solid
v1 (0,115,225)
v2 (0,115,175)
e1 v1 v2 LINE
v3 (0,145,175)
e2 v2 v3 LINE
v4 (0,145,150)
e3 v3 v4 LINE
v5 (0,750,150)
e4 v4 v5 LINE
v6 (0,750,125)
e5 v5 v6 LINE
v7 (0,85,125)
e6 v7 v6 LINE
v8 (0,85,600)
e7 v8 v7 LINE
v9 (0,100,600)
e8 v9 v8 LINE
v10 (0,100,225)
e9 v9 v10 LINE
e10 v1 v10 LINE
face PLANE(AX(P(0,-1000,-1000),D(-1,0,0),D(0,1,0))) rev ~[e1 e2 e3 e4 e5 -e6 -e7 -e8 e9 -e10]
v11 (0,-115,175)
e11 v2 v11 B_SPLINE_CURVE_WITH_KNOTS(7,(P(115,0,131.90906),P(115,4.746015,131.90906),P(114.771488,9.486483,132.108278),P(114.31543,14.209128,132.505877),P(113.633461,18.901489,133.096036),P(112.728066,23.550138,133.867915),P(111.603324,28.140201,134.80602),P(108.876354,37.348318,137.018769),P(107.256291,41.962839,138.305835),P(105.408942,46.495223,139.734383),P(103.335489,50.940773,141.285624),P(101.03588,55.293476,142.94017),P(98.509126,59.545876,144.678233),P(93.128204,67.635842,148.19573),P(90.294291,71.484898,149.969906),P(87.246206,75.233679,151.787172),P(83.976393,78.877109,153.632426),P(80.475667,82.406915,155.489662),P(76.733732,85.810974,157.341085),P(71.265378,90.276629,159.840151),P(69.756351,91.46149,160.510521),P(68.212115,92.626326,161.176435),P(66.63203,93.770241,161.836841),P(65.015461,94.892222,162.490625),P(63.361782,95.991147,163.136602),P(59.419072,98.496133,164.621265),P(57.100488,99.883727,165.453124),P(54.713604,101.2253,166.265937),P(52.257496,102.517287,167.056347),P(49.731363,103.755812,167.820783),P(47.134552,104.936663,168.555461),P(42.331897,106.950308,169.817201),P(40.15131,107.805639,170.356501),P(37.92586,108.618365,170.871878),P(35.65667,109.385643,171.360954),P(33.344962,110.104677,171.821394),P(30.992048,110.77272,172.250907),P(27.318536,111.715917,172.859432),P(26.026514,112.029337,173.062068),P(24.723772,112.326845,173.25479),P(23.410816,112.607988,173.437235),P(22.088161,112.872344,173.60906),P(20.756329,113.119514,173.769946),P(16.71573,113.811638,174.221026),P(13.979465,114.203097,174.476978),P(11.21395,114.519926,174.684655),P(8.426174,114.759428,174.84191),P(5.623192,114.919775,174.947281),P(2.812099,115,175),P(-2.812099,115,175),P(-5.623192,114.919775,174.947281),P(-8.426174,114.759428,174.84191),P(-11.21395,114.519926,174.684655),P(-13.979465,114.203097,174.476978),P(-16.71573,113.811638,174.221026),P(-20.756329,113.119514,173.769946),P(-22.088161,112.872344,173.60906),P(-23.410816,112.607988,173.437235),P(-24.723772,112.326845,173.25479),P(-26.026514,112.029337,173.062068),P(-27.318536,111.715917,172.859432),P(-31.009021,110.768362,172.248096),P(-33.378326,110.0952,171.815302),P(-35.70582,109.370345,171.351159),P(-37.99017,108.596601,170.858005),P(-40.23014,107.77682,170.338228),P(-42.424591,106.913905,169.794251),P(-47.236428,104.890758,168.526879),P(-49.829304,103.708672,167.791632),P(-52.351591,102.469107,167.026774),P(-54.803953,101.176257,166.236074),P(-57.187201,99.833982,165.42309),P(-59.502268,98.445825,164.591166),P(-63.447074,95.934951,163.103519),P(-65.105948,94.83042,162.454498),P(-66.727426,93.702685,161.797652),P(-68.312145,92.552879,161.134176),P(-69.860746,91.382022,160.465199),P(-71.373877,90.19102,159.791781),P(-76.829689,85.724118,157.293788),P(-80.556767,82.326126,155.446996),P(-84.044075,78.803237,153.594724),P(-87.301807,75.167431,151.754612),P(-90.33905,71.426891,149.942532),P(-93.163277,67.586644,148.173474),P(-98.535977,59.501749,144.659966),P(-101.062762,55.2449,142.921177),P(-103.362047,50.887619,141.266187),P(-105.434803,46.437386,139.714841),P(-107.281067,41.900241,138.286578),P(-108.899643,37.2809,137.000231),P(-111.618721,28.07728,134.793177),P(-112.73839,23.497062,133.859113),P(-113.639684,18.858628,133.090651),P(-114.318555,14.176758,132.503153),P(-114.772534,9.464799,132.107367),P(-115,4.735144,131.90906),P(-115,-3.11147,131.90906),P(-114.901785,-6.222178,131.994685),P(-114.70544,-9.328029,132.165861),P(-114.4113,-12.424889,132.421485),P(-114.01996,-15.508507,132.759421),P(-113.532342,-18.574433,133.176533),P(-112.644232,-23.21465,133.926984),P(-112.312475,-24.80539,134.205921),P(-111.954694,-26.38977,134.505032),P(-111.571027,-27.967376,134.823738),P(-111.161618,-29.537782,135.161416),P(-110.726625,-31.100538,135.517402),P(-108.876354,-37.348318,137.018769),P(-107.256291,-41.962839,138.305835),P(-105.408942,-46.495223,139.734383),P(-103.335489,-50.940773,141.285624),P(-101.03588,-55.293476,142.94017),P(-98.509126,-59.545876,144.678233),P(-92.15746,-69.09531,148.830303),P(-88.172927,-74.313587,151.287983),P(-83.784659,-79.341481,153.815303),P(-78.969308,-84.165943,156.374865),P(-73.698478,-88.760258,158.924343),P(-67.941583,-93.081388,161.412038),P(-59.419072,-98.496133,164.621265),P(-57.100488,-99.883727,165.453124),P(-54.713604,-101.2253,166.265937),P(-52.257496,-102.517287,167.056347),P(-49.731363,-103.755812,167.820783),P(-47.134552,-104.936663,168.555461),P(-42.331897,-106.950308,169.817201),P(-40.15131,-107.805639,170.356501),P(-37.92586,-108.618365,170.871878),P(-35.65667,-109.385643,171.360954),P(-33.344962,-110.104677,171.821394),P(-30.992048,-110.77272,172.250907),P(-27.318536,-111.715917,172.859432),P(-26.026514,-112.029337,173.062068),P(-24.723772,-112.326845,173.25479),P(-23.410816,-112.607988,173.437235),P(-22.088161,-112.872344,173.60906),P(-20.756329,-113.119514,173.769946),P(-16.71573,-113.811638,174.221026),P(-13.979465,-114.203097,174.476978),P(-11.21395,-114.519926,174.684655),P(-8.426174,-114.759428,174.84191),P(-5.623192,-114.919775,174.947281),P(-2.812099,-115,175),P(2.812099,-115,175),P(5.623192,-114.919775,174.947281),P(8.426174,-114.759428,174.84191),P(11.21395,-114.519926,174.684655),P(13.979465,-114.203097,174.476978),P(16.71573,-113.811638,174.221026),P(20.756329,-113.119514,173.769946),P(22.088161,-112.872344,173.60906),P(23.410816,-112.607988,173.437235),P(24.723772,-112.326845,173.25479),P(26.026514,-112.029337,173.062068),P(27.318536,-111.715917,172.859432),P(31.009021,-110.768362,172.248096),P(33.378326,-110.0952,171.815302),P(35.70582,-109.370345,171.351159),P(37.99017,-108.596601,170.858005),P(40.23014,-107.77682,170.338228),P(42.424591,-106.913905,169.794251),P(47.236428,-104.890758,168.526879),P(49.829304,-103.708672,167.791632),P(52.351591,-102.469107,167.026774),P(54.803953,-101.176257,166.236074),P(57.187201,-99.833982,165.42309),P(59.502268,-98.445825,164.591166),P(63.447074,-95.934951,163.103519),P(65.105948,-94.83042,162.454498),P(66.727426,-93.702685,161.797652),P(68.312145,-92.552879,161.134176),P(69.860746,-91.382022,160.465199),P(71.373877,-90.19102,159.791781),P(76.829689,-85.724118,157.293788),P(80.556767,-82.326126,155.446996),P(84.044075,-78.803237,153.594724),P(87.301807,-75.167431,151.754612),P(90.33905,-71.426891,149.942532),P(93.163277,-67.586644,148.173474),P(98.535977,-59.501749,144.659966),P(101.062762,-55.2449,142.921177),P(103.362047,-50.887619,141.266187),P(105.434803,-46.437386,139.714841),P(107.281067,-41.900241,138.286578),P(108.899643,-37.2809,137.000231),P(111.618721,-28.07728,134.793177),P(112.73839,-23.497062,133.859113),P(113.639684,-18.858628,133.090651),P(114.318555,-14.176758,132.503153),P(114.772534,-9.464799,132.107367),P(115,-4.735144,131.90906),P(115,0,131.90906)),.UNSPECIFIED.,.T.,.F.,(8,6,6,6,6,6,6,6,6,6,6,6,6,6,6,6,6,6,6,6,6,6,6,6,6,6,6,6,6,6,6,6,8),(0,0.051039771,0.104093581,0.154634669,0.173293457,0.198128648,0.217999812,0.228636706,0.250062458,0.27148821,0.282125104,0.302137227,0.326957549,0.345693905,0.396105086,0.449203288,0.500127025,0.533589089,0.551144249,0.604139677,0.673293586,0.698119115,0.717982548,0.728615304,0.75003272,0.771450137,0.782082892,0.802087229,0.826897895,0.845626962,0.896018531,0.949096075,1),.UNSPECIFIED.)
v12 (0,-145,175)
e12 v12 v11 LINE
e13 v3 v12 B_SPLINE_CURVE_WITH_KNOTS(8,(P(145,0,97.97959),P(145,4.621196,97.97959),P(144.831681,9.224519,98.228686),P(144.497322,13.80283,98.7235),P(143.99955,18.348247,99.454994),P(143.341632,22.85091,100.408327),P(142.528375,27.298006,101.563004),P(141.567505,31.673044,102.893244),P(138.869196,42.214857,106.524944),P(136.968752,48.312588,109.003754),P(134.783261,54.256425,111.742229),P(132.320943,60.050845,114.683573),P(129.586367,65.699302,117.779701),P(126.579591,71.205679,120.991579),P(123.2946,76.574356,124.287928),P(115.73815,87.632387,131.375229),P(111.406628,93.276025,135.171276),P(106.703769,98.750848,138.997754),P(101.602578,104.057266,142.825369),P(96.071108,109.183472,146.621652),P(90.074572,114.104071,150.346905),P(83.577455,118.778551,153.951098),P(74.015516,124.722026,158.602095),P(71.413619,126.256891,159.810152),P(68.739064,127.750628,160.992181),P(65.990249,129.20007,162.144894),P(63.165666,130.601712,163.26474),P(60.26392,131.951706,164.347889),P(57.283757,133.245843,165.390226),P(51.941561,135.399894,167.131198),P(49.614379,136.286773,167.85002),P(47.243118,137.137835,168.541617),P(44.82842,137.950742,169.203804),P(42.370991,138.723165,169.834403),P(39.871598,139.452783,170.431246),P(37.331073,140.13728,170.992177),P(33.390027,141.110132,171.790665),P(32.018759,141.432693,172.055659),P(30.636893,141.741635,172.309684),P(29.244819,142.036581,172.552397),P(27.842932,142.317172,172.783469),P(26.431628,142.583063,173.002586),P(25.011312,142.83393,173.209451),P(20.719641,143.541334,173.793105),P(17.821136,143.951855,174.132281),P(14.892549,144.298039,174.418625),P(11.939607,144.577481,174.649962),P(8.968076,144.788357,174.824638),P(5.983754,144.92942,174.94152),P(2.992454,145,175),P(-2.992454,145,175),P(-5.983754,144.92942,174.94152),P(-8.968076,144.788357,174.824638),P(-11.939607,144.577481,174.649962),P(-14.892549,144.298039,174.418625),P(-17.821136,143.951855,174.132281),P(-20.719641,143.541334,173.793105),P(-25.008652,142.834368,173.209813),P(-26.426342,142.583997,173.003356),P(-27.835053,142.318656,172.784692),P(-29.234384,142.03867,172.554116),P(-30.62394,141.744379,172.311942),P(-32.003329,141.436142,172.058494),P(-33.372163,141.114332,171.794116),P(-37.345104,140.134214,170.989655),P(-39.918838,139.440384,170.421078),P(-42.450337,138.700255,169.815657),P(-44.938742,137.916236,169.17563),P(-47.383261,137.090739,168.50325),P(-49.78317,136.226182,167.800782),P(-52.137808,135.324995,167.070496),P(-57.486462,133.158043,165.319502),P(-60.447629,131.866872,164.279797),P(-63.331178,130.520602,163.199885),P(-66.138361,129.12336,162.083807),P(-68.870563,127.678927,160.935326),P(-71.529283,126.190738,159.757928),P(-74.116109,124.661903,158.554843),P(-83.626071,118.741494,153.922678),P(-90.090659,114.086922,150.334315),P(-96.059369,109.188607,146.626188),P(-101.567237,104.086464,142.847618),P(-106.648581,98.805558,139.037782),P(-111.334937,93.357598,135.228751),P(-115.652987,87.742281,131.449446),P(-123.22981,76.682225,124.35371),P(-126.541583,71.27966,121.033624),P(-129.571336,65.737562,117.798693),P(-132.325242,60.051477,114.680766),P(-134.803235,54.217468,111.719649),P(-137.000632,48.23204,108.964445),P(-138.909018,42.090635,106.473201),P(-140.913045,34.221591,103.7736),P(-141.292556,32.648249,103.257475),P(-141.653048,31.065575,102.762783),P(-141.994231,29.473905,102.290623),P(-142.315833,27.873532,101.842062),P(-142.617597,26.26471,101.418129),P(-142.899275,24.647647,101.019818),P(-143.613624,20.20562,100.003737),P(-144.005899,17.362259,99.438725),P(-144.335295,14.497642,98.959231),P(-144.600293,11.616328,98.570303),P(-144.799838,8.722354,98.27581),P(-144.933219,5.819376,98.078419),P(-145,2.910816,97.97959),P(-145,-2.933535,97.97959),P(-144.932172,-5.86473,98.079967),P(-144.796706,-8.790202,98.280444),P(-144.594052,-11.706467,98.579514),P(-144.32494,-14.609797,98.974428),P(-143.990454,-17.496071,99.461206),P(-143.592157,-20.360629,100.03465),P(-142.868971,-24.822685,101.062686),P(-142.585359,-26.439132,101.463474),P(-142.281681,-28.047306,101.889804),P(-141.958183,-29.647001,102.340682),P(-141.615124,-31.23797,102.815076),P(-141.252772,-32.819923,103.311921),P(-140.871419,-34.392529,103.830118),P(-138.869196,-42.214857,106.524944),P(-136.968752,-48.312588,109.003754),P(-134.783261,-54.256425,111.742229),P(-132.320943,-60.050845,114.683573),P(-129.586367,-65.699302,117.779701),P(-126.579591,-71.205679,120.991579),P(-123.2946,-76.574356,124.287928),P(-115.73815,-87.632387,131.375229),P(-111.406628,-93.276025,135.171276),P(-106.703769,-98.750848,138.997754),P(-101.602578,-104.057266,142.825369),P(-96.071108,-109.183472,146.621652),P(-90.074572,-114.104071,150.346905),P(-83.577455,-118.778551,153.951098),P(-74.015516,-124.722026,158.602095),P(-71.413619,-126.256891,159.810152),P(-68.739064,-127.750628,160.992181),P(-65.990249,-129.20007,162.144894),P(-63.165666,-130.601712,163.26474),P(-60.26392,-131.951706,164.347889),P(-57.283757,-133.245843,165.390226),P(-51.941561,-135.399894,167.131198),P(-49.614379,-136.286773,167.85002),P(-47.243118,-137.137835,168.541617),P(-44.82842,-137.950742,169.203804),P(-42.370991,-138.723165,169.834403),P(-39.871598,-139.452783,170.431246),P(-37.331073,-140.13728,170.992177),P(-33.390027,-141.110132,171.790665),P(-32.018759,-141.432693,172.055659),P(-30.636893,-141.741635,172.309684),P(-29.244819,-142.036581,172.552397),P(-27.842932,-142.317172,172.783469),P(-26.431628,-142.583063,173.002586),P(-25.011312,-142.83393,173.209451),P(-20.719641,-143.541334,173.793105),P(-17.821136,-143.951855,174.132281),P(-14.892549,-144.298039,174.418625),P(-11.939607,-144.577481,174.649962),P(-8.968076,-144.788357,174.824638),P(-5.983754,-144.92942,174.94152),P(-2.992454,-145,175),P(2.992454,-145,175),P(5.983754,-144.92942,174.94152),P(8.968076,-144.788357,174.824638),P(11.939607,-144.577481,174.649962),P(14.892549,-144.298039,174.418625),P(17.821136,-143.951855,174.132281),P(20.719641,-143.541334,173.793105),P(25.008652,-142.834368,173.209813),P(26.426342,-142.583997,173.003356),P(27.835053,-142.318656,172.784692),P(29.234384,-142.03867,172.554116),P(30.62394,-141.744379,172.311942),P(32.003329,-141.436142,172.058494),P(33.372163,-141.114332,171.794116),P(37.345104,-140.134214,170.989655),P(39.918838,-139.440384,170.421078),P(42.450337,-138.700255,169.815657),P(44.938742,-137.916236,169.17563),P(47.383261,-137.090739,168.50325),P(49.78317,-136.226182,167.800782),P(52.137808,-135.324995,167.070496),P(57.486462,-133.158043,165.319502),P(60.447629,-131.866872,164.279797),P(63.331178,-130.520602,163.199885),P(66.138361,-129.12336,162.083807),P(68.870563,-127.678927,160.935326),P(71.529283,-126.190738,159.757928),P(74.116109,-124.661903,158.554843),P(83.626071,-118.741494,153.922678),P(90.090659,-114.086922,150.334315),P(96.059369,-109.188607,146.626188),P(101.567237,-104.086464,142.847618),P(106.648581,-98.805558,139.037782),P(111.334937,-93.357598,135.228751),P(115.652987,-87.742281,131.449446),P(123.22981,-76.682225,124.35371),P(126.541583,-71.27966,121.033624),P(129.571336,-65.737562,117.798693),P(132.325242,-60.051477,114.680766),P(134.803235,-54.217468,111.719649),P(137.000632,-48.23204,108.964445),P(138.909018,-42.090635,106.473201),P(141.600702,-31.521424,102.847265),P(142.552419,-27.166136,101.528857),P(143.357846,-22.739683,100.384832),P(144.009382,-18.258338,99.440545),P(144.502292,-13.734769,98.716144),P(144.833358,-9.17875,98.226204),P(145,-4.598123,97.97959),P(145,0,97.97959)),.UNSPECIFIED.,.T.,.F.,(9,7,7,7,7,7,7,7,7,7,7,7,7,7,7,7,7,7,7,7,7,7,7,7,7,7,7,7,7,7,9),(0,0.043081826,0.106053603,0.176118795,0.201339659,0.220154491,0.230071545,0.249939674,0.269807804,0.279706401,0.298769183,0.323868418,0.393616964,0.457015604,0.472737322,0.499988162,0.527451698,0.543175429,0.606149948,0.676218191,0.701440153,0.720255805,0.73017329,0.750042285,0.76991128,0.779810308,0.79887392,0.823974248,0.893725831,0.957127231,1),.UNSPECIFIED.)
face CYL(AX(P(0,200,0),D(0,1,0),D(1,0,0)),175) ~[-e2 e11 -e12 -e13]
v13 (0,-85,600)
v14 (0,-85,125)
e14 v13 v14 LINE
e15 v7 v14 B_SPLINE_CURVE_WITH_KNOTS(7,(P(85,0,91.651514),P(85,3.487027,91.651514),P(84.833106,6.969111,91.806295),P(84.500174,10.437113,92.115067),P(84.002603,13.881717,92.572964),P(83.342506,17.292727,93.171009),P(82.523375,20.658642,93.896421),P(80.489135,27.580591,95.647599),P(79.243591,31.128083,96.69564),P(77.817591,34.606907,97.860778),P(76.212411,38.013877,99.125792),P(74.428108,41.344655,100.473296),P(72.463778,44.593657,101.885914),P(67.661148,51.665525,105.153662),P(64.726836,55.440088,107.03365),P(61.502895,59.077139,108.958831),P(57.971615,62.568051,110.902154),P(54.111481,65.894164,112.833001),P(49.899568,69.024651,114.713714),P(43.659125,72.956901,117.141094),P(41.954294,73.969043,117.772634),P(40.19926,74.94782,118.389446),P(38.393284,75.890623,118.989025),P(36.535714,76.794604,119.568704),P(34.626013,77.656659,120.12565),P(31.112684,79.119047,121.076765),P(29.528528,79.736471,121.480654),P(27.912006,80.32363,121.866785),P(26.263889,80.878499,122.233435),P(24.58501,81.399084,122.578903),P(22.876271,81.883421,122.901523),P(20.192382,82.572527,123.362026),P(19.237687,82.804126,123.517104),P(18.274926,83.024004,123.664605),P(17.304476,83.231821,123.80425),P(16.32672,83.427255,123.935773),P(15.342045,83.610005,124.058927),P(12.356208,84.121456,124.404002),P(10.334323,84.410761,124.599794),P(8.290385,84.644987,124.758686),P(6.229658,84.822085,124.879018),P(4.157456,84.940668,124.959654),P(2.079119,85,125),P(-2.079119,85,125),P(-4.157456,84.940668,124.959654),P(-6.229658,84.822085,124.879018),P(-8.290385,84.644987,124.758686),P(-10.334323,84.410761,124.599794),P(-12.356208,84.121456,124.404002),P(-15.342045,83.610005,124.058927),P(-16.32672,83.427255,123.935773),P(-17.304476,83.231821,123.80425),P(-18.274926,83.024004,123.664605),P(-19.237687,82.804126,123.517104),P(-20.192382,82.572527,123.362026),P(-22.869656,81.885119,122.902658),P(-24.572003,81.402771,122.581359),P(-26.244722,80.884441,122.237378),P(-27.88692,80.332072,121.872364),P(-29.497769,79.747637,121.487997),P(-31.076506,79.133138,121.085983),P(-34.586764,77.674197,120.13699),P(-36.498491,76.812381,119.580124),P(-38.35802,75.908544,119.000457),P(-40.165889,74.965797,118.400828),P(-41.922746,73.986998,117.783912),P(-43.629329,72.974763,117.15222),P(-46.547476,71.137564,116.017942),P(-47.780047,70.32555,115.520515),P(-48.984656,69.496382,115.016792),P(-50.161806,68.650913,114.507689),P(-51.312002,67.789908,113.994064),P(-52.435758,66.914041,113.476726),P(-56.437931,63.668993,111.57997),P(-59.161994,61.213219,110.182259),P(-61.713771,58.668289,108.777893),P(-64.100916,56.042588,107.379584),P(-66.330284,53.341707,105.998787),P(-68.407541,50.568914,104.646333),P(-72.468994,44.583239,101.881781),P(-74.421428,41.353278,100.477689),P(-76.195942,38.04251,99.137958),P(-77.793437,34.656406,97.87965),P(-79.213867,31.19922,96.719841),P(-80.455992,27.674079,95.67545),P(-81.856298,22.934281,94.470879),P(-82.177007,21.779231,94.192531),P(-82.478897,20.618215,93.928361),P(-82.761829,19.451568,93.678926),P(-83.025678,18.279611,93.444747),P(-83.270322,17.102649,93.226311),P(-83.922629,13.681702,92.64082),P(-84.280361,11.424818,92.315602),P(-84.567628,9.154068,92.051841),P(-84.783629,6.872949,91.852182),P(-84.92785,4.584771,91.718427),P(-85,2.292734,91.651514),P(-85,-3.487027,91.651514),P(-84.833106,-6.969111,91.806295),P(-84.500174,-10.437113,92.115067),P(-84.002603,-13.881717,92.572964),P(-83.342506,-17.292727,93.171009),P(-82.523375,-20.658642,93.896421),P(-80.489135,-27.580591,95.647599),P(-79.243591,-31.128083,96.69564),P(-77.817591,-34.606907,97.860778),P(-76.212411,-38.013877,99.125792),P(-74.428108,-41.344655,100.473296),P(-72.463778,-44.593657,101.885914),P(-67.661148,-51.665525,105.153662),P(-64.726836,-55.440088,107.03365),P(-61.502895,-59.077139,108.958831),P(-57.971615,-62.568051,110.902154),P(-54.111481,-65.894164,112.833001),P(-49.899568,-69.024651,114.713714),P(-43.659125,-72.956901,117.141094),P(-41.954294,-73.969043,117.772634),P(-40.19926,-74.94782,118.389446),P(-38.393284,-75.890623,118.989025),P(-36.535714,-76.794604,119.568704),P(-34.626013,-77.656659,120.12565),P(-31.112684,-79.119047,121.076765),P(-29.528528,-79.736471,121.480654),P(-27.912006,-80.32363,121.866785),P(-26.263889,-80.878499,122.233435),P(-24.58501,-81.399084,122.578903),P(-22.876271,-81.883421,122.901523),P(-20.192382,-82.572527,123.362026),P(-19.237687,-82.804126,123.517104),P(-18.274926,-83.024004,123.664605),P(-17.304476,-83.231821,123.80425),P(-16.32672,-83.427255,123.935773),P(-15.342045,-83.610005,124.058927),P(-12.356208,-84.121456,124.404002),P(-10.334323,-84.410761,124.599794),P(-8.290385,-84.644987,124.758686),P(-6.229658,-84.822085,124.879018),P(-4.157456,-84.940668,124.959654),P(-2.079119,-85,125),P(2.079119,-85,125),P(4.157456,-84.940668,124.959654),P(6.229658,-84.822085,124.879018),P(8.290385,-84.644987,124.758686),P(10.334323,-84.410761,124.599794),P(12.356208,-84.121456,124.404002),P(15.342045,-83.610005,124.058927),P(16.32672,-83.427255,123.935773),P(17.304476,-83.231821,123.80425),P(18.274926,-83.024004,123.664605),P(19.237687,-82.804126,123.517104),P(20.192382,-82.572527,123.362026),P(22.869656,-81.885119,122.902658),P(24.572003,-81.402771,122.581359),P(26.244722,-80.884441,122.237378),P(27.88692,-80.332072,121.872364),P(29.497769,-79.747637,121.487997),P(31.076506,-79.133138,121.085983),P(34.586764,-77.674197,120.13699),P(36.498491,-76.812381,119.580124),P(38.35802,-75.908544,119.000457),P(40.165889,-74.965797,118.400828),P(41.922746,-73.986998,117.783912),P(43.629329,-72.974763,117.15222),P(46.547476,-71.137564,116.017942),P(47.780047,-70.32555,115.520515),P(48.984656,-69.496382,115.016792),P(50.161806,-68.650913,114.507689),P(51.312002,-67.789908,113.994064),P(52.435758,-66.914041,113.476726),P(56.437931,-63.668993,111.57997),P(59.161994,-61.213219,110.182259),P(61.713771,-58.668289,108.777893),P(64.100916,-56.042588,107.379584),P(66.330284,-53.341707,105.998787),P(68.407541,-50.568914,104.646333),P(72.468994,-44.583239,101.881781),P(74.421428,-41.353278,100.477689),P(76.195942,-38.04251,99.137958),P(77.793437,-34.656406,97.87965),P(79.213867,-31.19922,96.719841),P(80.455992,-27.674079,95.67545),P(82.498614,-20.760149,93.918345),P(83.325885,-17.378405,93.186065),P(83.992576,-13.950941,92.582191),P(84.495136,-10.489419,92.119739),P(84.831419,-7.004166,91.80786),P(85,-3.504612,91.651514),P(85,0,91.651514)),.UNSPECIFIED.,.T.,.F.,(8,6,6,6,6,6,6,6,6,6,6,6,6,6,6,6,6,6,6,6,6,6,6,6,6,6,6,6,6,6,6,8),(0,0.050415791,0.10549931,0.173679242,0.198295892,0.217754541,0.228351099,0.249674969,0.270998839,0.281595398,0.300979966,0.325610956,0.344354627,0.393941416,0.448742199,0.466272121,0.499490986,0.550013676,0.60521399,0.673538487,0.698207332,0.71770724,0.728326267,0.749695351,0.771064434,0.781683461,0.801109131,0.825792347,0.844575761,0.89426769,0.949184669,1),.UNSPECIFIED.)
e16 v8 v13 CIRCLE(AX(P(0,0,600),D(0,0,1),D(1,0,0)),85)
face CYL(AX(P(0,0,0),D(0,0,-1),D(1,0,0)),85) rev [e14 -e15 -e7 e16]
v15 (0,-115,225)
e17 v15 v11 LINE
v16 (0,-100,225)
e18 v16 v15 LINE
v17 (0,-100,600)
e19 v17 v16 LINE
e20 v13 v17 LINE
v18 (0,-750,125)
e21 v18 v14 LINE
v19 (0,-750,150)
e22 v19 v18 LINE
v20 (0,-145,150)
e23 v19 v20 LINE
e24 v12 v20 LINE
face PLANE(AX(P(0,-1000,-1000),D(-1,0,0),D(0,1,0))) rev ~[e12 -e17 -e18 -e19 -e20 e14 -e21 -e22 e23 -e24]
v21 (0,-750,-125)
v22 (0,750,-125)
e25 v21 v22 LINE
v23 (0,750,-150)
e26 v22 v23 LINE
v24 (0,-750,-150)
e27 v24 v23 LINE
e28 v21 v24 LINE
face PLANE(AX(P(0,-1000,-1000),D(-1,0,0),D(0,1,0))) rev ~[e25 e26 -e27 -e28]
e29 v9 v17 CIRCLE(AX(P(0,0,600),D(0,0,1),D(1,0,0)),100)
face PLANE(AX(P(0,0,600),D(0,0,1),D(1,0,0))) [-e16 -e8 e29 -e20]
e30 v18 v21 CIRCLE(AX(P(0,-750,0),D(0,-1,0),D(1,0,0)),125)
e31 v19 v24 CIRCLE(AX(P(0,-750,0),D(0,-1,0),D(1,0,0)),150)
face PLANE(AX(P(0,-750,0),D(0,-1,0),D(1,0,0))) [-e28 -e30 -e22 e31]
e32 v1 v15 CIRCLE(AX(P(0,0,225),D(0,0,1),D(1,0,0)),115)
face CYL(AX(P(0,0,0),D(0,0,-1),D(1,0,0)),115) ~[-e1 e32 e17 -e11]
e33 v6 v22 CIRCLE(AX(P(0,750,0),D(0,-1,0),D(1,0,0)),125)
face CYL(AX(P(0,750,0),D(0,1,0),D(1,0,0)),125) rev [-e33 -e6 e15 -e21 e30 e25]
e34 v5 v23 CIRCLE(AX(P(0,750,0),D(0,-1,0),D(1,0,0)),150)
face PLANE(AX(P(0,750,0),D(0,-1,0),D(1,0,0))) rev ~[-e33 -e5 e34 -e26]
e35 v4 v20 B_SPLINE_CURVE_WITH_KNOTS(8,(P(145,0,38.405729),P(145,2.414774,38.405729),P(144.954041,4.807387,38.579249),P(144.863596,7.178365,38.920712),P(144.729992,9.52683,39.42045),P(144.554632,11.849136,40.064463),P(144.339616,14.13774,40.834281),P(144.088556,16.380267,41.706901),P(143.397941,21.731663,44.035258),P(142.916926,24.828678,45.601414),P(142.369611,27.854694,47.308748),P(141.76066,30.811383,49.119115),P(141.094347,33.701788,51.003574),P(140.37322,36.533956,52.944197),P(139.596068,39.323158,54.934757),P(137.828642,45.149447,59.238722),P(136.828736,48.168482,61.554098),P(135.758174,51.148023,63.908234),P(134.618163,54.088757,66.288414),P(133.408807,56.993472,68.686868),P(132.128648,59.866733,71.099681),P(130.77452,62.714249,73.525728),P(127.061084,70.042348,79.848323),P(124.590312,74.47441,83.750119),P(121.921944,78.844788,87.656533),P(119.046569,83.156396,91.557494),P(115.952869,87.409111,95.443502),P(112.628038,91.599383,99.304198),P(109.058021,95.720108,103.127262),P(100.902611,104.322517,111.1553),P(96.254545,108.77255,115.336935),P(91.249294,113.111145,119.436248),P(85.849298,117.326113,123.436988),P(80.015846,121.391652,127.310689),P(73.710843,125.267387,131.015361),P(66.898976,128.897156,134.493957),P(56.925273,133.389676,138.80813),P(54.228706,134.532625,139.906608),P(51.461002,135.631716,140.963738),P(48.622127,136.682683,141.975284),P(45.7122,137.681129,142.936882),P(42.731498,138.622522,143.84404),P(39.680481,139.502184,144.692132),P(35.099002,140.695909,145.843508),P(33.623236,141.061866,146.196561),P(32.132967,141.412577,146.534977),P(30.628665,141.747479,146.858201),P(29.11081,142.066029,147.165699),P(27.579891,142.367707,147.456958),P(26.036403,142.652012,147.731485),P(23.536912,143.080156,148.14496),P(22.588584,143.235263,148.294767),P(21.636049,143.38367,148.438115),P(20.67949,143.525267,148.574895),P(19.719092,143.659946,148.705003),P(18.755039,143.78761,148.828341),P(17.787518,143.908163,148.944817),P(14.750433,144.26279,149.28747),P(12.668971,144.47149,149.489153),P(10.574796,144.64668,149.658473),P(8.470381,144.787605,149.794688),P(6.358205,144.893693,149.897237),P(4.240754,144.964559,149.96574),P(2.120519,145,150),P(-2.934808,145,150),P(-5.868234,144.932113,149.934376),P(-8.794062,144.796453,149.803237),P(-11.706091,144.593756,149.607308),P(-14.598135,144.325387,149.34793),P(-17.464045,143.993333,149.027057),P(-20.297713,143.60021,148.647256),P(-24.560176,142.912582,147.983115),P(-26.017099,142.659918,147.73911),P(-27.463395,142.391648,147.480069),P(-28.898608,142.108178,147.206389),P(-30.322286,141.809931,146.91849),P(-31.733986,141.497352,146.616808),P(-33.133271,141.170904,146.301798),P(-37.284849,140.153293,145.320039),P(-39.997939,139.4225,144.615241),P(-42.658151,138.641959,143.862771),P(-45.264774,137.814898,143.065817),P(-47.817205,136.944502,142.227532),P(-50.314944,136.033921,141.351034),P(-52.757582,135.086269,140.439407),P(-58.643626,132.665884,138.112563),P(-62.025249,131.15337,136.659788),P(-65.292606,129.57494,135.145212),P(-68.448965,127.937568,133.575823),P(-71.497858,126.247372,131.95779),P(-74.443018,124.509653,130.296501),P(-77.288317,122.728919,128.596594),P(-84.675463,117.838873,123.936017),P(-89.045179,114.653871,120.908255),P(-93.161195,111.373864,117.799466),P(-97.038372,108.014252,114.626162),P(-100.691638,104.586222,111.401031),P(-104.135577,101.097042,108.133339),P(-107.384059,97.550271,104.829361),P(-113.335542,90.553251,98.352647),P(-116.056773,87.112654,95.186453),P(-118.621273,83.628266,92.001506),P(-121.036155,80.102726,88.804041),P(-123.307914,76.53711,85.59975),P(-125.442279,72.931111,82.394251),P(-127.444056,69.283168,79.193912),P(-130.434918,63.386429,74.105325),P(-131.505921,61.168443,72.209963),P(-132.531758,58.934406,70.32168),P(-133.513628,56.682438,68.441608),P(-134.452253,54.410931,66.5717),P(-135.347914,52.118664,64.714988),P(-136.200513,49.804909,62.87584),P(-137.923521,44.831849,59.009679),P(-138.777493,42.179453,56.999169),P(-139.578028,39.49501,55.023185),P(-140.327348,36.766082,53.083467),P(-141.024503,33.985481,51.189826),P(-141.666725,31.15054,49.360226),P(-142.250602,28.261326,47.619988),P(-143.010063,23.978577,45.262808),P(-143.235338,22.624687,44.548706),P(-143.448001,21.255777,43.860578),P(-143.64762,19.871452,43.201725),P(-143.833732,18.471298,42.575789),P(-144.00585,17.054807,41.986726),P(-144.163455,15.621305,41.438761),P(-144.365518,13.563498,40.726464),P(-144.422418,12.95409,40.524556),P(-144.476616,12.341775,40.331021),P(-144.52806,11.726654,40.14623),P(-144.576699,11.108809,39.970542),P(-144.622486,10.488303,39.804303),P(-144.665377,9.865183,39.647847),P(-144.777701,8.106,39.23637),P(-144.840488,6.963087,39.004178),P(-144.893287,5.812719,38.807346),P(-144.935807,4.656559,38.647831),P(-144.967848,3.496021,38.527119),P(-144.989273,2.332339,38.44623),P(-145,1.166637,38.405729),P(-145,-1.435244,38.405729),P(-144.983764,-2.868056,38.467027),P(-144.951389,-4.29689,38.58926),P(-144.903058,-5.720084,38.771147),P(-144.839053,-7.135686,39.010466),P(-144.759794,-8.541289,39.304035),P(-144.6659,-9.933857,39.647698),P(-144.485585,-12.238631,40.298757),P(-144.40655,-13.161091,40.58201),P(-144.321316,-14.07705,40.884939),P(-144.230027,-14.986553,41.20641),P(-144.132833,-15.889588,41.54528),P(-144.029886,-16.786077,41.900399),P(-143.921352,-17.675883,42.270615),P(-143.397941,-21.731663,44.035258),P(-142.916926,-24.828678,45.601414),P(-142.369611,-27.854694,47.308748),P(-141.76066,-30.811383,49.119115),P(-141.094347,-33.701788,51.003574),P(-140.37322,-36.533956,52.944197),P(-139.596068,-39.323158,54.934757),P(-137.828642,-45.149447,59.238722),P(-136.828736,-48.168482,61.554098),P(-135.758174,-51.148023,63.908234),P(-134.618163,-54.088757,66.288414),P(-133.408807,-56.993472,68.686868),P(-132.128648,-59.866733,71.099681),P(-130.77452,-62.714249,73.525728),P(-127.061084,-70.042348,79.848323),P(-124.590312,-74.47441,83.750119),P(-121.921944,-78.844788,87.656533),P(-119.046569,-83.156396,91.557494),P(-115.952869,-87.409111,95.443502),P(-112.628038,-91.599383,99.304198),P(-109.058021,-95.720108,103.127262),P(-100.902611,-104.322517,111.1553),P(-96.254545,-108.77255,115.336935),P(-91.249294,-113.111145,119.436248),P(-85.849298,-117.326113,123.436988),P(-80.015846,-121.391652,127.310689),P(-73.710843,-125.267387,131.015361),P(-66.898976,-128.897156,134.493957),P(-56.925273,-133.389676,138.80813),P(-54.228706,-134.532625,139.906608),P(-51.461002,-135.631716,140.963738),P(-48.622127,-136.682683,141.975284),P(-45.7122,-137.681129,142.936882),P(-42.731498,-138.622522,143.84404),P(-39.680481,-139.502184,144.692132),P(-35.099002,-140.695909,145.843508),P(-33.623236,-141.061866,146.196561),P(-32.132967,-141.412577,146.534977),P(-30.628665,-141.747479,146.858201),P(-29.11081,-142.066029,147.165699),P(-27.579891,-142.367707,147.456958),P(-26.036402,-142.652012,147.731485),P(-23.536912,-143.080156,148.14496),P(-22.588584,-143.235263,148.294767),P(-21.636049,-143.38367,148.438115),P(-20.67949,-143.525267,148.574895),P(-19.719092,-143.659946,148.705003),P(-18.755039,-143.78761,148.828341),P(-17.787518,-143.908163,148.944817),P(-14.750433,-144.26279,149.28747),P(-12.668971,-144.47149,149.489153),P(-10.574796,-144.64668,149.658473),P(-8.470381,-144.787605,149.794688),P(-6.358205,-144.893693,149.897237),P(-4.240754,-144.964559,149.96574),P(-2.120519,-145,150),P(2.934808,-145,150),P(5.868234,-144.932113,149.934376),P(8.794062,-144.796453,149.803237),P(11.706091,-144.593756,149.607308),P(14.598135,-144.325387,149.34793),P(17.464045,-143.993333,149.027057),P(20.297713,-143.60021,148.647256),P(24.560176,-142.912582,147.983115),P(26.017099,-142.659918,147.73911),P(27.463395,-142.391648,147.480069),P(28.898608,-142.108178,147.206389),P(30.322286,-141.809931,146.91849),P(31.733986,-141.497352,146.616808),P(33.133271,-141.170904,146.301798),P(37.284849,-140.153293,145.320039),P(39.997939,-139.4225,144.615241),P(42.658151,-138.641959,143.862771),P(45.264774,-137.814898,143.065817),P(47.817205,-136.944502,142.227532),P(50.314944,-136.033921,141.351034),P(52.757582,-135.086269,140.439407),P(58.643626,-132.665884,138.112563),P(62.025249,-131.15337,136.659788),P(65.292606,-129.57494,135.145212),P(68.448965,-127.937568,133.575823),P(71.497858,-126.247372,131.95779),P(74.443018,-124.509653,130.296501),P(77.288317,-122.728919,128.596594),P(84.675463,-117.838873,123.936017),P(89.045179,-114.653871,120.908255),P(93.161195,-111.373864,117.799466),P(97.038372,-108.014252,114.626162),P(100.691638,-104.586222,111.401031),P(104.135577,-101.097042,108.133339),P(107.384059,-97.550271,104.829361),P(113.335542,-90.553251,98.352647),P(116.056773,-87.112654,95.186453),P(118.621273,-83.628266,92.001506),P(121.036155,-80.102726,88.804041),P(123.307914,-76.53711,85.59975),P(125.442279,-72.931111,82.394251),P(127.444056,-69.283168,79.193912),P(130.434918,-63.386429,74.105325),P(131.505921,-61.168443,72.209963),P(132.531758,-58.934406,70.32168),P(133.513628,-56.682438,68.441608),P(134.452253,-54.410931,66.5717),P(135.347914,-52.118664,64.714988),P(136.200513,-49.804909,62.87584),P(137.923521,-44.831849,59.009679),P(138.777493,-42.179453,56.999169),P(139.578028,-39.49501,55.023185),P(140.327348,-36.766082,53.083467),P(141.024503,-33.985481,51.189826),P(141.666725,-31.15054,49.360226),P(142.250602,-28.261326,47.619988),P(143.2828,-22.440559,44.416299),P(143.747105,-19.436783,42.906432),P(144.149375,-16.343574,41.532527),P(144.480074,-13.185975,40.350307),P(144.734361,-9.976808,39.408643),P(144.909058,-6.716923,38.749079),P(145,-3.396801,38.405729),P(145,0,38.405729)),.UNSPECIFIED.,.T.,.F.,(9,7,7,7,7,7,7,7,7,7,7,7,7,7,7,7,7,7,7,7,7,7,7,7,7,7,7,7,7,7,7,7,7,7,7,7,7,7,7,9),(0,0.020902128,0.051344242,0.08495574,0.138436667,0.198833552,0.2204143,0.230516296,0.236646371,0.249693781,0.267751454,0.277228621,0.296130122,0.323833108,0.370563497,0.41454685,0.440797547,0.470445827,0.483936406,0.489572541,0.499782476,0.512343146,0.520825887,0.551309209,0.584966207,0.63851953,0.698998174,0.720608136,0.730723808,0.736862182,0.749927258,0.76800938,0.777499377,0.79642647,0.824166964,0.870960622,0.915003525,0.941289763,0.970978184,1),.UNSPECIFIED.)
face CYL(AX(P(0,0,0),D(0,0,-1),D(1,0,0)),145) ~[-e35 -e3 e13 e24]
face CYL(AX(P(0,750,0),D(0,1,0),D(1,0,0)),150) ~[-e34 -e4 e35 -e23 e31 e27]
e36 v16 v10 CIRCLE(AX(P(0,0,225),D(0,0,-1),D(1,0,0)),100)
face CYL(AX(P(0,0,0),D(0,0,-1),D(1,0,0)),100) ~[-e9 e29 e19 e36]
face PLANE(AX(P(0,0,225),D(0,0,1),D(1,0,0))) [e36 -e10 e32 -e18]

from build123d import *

# Parameters (mm, degrees)
BOX001_W               = 2000
BOX001_H               = 2000
BOX001_DEPTH           = 2000
CYLINDER007_R          = 125
CYLINDER007_DEPTH      = 1500
CYLINDER007_ROLL_ANGLE = 90
CYLINDER006_R          = 85
CYLINDER006_DEPTH      = 600
CYLINDER002_R          = 115
CYLINDER002_DEPTH      = 225
CYLINDER001_R          = 150
CYLINDER001_DEPTH      = 1500
CYLINDER001_ROLL_ANGLE = 90
CYLINDER_R             = 100
CYLINDER_DEPTH         = 600
BOX_W                  = 500
BOX_H                  = 500
BOX_DEPTH              = 500
CYLINDER004_R          = 145
CYLINDER004_DEPTH      = 600
CYLINDER005_R          = 300
CYLINDER005_DEPTH      = 600
CYLINDER003_R          = 175
CYLINDER003_DEPTH      = 400
CYLINDER003_ROLL_ANGLE = 90


with BuildPart() as cube001:
    # Box001 → Box001 (new body)
    with BuildSketch(Plane(origin=(0, -1000, -1000), x_dir=(1, 0, 0), z_dir=(0, 0, 1))):
        with Locations((1000, 1000)):
            Rectangle(BOX001_W, BOX001_H)
    extrude(amount=BOX001_DEPTH)


with BuildPart() as cylinder007:
    # Cylinder007 → Cylinder007 (new body)
    with BuildSketch(Plane.XY):
        Circle(CYLINDER007_R)
    extrude(amount=CYLINDER007_DEPTH)


with BuildPart() as cylinder007_1:
    # Cylinder007 roll: moved
    add(cylinder007.part.rotate(Axis((0, 0, 0), (1, 0, 0)), CYLINDER007_ROLL_ANGLE))


with BuildPart() as cylinder007_2:
    # Cylinder007 placement: moved
    add(cylinder007_1.part.moved(Location((0, 750, 0))))


with BuildPart() as cylinder006:
    # Cylinder006 → Cylinder006 (new body)
    with BuildSketch(Plane.XY):
        Circle(CYLINDER006_R)
    extrude(amount=CYLINDER006_DEPTH)


with BuildPart() as cylinder002:
    # Cylinder002 → Cylinder002 (new body)
    with BuildSketch(Plane.XY):
        Circle(CYLINDER002_R)
    extrude(amount=CYLINDER002_DEPTH)


with BuildPart() as cylinder001:
    # Cylinder001 → Cylinder001 (new body)
    with BuildSketch(Plane.XY):
        Circle(CYLINDER001_R)
    extrude(amount=CYLINDER001_DEPTH)


with BuildPart() as cylinder001_1:
    # Cylinder001 roll: moved
    add(cylinder001.part.rotate(Axis((0, 0, 0), (1, 0, 0)), CYLINDER001_ROLL_ANGLE))


with BuildPart() as cylinder001_2:
    # Cylinder001 placement: moved
    add(cylinder001_1.part.moved(Location((0, 750, 0))))


with BuildPart() as cylinder:
    # Cylinder → Cylinder (new body)
    with BuildSketch(Plane.XY):
        Circle(CYLINDER_R)
    extrude(amount=CYLINDER_DEPTH)


with BuildPart() as cube:
    # Box → Box (new body)
    with BuildSketch(Plane(origin=(-226, -279, -480), x_dir=(1, 0, 0), z_dir=(0, 0, 1))):
        with Locations((250, 250)):
            Rectangle(BOX_W, BOX_H)
    extrude(amount=BOX_DEPTH)


with BuildPart() as cylinder004:
    # Cylinder004 → Cylinder004 (new body)
    with BuildSketch(Plane.XY):
        Circle(CYLINDER004_R)
    extrude(amount=CYLINDER004_DEPTH)


with BuildPart() as cut:
    # Cylinder005 → Cylinder005 (new body)
    with BuildSketch(Plane.XY):
        Circle(CYLINDER005_R)
    extrude(amount=CYLINDER005_DEPTH)

    # Cut: cut Cylinder004
    add(cylinder004.part, mode=Mode.SUBTRACT)


with BuildPart() as cut005:
    # Cylinder003 → Cylinder003 (new body)
    with BuildSketch(Plane.XY):
        Circle(CYLINDER003_R)
    extrude(amount=CYLINDER003_DEPTH)


with BuildPart() as cut005_1:
    # Cylinder003 roll: moved
    add(cut005.part.rotate(Axis((0, 0, 0), (1, 0, 0)), CYLINDER003_ROLL_ANGLE))


with BuildPart() as cut005_2:
    # Cylinder003 placement: moved
    add(cut005_1.part.moved(Location((0, 200, 0))))

    # Cut001: cut Cut
    add(cut.part, mode=Mode.SUBTRACT)

    # Cut002: cut Cube
    add(cube.part, mode=Mode.SUBTRACT)

    # Fusion: union Cylinder002, Cylinder001, Cylinder
    add(cylinder002.part)
    add(cylinder001_2.part)
    add(cylinder.part)

    # Cut003: cut Cylinder006
    add(cylinder006.part, mode=Mode.SUBTRACT)

    # Cut004: cut Cylinder007
    add(cylinder007_2.part, mode=Mode.SUBTRACT)

    # Cut005: cut Cube001
    add(cube001.part, mode=Mode.SUBTRACT)


solid = cut005_2.part
